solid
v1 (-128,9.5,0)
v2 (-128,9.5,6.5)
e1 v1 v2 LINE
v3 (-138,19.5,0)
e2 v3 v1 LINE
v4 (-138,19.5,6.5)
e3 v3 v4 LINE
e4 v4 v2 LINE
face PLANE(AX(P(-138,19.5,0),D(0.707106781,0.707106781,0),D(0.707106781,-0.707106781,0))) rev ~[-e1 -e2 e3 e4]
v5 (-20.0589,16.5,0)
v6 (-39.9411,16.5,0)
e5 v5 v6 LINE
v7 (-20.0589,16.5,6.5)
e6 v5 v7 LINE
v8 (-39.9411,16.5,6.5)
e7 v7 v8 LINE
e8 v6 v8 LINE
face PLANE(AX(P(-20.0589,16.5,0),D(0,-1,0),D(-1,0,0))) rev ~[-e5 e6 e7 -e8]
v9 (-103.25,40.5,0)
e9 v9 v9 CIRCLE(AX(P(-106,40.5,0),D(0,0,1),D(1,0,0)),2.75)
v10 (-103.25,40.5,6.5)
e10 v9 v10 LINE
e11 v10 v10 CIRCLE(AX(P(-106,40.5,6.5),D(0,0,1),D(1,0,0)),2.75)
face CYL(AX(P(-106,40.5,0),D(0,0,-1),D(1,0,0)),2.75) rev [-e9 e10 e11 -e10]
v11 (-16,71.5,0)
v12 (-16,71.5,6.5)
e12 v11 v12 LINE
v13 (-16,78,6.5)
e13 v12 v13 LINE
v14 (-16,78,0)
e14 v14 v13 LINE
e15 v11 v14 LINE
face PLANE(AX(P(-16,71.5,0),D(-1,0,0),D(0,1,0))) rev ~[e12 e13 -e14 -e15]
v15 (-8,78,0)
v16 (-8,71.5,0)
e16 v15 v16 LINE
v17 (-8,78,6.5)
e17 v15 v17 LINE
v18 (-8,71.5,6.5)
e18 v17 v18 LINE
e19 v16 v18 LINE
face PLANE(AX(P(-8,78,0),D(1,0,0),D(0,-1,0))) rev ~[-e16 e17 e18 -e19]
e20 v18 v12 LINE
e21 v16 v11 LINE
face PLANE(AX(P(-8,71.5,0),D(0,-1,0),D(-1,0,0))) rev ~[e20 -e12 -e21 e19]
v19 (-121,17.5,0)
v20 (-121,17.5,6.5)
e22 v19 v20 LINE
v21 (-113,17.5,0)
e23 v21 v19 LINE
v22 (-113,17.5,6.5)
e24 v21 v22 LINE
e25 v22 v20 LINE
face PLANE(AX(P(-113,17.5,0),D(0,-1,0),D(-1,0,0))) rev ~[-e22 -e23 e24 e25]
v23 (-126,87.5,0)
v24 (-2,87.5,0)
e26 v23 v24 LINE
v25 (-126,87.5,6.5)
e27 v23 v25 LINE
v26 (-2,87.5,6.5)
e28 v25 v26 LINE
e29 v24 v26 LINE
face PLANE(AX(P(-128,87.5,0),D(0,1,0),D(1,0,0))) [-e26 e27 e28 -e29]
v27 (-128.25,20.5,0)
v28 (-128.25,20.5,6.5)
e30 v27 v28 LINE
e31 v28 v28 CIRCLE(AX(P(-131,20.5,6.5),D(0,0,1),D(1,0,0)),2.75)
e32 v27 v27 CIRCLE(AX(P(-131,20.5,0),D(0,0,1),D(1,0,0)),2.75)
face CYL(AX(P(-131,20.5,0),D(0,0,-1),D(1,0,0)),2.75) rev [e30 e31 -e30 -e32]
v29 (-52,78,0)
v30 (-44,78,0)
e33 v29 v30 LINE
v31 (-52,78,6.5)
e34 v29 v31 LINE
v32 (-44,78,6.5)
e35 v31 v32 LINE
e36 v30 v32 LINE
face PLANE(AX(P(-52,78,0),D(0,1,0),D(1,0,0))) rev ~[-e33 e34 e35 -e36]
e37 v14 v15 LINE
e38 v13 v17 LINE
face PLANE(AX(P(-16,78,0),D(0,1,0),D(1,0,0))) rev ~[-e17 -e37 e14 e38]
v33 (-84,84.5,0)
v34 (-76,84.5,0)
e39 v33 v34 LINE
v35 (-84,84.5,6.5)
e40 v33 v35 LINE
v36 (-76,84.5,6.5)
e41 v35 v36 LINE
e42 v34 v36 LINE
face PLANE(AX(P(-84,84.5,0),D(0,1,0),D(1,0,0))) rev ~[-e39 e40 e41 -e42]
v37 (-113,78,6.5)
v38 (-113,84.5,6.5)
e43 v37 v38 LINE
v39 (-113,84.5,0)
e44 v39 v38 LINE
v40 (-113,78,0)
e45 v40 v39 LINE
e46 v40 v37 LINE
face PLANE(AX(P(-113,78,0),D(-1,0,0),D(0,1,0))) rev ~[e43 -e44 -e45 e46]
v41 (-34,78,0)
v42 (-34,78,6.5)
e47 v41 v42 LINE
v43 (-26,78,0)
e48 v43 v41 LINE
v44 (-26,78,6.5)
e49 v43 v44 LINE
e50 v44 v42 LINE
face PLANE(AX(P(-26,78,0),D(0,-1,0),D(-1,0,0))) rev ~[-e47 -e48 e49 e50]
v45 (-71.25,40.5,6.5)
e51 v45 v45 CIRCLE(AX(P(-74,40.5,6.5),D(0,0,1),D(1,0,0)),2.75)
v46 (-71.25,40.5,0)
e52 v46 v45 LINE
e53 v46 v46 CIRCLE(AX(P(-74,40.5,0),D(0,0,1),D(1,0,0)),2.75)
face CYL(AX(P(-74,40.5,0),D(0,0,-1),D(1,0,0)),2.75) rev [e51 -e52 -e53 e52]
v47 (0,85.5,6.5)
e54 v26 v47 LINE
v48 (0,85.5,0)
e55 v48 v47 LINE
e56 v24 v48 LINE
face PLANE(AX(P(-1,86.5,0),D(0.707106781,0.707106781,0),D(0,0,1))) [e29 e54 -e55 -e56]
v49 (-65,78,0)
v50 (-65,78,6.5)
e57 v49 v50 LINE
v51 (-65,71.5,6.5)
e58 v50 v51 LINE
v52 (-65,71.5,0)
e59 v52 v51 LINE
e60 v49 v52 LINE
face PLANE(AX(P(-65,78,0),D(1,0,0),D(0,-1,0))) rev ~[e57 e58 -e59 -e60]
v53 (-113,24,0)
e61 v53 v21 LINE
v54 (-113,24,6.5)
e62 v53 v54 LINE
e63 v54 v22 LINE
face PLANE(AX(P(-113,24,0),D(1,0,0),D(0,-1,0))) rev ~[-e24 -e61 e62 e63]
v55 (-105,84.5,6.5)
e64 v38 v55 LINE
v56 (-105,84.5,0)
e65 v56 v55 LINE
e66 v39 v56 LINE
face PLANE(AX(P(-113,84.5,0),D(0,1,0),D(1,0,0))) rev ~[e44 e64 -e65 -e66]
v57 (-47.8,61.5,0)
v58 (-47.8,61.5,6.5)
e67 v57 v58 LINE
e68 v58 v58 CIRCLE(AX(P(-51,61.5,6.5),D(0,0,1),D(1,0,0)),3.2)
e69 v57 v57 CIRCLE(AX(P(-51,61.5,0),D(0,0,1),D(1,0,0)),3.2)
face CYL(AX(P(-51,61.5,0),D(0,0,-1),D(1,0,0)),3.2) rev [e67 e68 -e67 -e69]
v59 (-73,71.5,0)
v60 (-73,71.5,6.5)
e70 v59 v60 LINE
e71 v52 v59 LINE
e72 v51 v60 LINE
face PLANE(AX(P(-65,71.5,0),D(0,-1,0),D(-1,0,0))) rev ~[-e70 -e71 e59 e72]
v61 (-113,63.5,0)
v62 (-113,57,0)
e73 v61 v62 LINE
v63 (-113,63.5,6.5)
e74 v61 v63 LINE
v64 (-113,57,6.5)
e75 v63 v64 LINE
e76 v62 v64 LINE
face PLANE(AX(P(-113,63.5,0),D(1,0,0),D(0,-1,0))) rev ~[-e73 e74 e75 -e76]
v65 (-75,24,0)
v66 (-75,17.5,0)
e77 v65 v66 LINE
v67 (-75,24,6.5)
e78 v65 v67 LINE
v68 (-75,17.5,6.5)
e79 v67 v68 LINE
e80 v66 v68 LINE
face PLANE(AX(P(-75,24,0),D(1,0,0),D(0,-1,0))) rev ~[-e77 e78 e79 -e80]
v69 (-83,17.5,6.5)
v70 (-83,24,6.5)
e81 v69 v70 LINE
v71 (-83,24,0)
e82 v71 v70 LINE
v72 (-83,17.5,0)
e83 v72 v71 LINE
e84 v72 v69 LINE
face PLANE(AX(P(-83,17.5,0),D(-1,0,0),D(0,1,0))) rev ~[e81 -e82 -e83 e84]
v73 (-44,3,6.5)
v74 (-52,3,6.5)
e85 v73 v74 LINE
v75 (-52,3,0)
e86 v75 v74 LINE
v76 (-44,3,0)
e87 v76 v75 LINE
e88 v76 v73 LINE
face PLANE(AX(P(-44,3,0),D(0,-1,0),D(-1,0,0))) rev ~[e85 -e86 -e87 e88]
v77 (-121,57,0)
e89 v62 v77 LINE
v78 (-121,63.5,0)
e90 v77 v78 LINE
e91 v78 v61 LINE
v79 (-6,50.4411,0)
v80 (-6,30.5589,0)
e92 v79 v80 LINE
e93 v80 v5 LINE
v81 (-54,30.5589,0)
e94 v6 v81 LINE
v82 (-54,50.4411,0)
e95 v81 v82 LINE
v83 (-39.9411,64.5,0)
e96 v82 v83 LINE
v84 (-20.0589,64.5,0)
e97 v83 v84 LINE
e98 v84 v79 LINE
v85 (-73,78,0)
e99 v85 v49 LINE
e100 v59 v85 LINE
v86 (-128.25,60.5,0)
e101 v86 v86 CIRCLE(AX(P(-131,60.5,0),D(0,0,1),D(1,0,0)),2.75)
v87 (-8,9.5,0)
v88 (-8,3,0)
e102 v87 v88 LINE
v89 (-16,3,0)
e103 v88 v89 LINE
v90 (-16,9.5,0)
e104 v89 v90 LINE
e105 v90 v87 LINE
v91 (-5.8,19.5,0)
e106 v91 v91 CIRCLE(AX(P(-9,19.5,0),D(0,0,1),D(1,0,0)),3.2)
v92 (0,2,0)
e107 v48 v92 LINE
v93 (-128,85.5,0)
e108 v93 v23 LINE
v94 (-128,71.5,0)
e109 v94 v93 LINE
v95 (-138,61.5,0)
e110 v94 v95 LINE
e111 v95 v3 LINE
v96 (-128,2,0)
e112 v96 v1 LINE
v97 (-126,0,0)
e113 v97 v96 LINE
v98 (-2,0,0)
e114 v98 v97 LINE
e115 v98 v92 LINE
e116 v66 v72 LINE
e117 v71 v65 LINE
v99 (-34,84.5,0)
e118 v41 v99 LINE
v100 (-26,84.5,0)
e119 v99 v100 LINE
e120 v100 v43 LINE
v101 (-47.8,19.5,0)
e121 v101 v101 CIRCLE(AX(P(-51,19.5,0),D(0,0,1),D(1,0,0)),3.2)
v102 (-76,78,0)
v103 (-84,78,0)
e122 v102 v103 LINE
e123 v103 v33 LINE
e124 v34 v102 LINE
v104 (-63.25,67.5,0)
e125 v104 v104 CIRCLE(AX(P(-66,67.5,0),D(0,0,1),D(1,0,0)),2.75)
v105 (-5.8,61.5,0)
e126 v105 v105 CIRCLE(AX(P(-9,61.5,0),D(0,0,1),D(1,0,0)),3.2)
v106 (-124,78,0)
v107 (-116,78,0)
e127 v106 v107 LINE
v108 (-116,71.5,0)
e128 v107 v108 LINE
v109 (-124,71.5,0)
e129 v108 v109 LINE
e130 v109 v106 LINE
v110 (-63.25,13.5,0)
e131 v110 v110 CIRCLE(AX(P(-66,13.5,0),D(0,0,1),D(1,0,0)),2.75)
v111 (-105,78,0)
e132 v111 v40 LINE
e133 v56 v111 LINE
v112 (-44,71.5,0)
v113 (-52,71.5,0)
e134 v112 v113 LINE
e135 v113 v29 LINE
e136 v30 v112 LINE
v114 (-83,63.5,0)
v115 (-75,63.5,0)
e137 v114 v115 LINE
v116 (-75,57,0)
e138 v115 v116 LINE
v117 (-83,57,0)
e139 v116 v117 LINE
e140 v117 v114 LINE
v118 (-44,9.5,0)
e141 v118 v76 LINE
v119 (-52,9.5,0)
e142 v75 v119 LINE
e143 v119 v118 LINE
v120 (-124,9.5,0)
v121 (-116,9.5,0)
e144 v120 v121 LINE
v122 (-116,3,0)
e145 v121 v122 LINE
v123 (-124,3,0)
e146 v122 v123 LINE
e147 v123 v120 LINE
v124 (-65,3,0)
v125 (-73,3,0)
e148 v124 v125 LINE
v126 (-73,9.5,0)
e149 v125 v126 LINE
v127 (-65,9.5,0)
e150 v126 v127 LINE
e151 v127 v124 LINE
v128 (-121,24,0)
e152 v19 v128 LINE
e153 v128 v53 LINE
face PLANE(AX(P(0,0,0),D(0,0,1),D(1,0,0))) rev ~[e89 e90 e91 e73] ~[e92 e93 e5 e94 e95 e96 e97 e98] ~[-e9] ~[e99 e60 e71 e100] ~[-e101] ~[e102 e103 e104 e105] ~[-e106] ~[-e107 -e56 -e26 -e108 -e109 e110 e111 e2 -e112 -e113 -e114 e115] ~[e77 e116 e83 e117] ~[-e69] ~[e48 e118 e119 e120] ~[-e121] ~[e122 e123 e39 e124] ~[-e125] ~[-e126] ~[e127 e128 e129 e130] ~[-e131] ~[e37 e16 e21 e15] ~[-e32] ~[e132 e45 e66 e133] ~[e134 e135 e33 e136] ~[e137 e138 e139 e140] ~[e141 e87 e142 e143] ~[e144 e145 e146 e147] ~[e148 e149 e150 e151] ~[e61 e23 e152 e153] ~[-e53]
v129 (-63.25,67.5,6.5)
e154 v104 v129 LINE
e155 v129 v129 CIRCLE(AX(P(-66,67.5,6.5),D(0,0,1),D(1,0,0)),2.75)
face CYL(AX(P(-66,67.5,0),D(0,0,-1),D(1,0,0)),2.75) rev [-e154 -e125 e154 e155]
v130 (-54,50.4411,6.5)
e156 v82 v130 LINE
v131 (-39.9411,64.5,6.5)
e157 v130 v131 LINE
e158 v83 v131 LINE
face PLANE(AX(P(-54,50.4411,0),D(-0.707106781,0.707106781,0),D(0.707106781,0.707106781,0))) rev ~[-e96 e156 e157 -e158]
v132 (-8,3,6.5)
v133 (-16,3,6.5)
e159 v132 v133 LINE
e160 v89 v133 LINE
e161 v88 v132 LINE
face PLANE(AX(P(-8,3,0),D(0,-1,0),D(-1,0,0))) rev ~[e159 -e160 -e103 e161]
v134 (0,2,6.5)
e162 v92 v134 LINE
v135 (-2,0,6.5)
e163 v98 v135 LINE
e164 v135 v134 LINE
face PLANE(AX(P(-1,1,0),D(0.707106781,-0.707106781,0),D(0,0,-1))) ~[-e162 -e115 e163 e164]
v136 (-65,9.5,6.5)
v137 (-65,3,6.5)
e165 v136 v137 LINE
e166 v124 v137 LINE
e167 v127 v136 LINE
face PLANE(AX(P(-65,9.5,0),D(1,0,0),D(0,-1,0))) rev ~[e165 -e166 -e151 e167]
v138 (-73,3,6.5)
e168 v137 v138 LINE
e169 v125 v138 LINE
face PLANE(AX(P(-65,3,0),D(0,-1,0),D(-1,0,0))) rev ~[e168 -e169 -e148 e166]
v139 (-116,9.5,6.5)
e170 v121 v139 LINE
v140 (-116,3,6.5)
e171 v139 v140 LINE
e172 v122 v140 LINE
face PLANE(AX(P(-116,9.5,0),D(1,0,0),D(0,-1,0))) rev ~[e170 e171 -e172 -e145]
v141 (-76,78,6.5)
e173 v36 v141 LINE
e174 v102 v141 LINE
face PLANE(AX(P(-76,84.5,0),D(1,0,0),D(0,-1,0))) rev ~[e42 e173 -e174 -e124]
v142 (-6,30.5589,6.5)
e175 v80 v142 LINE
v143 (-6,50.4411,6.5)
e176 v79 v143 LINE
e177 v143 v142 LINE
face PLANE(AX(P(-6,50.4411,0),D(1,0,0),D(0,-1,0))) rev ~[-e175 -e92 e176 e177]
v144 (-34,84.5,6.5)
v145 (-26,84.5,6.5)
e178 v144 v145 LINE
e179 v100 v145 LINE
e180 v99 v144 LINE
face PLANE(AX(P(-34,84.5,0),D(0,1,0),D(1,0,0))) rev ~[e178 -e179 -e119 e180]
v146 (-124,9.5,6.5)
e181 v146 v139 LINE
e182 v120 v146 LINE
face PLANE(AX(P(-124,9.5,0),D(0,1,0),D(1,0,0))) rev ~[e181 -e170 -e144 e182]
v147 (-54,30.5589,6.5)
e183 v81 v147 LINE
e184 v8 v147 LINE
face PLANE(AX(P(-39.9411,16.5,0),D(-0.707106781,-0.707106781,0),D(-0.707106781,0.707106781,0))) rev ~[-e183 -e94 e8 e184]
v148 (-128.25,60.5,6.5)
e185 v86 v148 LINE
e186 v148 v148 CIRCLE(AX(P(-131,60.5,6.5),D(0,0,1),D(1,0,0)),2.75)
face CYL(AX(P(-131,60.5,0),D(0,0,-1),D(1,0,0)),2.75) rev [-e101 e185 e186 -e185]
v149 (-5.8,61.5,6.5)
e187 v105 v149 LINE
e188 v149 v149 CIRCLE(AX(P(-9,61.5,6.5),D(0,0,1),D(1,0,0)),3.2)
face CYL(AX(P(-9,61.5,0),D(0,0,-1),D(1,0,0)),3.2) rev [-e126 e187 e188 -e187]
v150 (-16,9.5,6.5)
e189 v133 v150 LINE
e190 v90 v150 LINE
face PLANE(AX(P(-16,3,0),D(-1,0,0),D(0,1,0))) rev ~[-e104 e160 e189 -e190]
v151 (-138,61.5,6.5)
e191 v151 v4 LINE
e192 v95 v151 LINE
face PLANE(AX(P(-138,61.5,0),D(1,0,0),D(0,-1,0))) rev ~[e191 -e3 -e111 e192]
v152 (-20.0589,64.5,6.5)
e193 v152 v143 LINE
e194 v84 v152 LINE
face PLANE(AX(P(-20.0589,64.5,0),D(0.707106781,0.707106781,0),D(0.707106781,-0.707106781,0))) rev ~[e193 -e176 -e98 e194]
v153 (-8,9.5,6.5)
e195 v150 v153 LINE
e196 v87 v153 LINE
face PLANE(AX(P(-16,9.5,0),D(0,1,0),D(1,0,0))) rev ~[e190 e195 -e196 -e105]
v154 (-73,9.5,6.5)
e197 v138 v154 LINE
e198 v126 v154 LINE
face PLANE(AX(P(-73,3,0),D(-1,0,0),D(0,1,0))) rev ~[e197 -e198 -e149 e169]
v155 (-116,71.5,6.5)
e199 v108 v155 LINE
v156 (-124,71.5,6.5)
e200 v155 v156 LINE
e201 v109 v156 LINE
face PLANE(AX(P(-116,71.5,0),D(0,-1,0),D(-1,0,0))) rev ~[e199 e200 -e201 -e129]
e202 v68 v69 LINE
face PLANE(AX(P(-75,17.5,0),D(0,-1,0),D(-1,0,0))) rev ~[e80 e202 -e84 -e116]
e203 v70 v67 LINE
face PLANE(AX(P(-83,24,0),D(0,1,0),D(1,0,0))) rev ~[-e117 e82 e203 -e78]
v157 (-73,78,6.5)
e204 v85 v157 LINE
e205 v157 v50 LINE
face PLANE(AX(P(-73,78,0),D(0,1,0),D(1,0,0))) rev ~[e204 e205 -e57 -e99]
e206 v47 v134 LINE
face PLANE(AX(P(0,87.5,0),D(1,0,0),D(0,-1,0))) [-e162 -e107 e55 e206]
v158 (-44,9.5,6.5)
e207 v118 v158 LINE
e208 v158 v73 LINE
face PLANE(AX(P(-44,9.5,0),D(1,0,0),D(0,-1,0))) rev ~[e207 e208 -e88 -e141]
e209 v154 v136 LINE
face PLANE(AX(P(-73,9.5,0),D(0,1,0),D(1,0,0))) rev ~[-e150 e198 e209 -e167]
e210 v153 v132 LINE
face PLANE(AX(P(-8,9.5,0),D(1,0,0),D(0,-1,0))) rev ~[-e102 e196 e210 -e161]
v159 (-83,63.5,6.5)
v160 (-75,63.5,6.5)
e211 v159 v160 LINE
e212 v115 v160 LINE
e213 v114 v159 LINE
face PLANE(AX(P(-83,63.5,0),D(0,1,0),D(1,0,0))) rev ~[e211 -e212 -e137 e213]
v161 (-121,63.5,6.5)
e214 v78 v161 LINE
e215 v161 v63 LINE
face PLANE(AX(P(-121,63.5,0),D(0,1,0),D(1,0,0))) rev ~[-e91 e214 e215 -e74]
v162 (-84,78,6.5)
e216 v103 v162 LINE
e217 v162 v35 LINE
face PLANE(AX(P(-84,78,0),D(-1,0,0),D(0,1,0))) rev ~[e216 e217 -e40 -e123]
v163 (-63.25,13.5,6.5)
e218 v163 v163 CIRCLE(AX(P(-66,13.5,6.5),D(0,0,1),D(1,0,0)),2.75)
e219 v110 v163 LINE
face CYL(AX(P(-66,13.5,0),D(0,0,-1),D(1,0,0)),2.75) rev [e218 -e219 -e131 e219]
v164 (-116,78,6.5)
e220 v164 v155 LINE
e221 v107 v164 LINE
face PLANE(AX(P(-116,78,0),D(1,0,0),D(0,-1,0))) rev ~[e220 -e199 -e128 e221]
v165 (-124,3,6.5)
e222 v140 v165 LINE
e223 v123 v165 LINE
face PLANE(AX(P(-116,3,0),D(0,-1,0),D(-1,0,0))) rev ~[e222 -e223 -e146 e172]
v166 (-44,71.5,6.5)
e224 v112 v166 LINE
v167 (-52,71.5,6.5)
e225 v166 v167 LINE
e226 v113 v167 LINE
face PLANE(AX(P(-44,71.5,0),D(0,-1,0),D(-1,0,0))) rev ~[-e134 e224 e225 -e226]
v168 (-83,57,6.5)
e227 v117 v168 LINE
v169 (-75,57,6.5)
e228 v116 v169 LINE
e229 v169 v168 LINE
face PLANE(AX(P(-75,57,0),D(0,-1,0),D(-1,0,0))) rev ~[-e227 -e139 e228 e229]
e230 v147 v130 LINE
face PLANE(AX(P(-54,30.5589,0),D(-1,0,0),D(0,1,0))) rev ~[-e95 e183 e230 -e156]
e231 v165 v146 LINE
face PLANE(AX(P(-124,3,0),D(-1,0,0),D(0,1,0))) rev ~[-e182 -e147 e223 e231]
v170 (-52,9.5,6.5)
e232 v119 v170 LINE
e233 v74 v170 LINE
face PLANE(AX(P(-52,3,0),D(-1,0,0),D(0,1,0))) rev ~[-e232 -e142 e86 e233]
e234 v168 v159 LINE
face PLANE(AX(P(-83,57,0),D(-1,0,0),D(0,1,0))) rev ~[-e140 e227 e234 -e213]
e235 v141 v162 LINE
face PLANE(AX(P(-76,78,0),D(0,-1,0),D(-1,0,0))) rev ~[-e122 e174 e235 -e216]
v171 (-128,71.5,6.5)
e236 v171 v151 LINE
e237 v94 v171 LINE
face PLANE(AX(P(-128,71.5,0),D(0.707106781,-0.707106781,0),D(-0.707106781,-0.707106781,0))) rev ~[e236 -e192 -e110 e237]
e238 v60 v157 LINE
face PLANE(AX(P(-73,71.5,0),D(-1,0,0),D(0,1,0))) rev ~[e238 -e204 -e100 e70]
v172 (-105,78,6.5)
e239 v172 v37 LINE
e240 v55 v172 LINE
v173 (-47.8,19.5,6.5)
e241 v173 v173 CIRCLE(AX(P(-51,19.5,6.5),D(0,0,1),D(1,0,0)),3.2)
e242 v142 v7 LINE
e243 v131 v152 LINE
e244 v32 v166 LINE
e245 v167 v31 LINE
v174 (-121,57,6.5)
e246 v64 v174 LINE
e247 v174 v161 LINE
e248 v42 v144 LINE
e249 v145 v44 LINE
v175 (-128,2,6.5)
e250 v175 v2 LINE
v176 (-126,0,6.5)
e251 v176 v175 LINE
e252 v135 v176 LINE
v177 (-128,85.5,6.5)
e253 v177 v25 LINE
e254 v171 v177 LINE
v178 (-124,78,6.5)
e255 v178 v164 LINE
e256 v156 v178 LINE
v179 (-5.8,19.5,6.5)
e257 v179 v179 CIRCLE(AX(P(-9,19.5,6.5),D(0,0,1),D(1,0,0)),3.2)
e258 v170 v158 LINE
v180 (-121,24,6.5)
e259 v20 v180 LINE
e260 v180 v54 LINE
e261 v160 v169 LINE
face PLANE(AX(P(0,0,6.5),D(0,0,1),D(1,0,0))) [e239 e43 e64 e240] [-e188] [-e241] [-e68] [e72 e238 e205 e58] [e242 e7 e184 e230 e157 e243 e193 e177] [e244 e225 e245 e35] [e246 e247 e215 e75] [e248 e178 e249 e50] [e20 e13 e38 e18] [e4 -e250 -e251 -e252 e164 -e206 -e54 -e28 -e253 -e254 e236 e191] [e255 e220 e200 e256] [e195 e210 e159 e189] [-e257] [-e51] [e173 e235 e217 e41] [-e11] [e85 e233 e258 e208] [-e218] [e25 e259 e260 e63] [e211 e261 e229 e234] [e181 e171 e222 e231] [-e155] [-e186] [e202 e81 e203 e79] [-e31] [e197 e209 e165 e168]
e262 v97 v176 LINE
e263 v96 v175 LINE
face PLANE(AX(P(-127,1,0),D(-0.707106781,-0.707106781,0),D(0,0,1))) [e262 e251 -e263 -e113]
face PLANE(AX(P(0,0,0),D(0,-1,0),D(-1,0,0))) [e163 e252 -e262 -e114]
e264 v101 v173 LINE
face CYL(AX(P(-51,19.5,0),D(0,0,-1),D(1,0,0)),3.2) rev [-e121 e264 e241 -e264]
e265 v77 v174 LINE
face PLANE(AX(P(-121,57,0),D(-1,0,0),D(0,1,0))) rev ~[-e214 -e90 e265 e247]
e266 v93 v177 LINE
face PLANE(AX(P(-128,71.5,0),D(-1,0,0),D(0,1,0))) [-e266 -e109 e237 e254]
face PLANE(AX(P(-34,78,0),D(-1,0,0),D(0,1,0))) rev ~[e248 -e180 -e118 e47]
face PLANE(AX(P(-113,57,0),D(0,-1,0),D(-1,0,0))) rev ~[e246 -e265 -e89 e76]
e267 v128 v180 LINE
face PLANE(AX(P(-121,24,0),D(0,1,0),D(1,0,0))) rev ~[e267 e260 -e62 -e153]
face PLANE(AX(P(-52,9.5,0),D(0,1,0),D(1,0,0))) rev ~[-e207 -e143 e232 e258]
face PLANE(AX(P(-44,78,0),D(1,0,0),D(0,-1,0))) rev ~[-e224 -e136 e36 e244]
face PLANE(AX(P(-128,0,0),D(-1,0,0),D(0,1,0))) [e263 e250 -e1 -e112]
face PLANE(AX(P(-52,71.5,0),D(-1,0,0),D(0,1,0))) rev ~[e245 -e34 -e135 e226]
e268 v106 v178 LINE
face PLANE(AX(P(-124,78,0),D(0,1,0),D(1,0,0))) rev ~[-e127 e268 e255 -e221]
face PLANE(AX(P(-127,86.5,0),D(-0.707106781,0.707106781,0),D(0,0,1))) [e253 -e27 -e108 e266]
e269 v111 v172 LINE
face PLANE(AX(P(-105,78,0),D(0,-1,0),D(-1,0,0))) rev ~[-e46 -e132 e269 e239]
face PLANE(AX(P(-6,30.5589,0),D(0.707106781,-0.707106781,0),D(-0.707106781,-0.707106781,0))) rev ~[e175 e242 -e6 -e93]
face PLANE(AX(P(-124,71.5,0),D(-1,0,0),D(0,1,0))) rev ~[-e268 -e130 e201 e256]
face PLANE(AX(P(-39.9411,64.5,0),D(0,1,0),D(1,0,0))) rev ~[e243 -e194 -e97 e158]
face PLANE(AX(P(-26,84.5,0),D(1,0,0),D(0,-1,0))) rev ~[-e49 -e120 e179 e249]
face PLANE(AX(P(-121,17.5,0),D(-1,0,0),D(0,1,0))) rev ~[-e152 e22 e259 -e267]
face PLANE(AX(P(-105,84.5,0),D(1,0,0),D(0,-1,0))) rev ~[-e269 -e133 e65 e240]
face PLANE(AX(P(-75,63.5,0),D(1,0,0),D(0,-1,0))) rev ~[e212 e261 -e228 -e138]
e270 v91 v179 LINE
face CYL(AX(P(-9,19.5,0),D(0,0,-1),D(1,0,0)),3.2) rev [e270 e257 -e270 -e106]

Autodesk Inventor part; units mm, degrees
ref_plane "YZ Plane" through (0, 0, 0) normal (1, 0, 0) x (0, 1, 0)
ref_plane "XZ Plane" through (0, 0, 0) normal (0, 1, 0) x (-1, 0, 0)
ref_plane "XY Plane" through (0, 0, 0) normal (0, 0, 1) x (1, 0, 0)
sketch "Sketch1" plane through (0, 0, 0) normal (0, 0, 1) x (1, 0, 0)
  line L0 (0, 0) -> (-128, 0)
  line L1 (-128, 87.5) -> (0, 87.5)
  line L2 (0, 87.5) -> (0, 0)
  line L3 (-128, 71.5) -> (-138, 61.5)
  line L4 (-138, 61.5) -> (-138, 19.5)
  line L5 (-138, 19.5) -> (-128, 9.5)
  line L6 (-128, 0) -> (-128, 9.5)
  line L7 (-128, 71.5) -> (-128, 87.5)
  line L8 (-52, 9.5) -> (-44, 9.5)
  line L9 (-44, 9.5) -> (-44, 3)
  line L10 (-44, 3) -> (-52, 3)
  line L11 (-52, 3) -> (-52, 9.5)
  line L12 (-52, 78) -> (-44, 78)
  line L13 (-44, 78) -> (-44, 71.5)
  line L14 (-44, 71.5) -> (-52, 71.5)
  line L15 (-52, 71.5) -> (-52, 78)
  line L16 (-16, 78) -> (-8, 78)
  line L17 (-8, 78) -> (-8, 71.5)
  line L18 (-8, 71.5) -> (-16, 71.5)
  line L19 (-16, 71.5) -> (-16, 78)
  line L20 (-16, 9.5) -> (-8, 9.5)
  line L21 (-8, 9.5) -> (-8, 3)
  line L22 (-8, 3) -> (-16, 3)
  line L23 (-16, 3) -> (-16, 9.5)
  line L24 (-34, 84.5) -> (-26, 84.5)
  line L25 (-26, 84.5) -> (-26, 78)
  line L26 (-26, 78) -> (-34, 78)
  line L27 (-34, 78) -> (-34, 84.5)
  line L28 (-6, 50.4411) -> (-6, 30.5589)
  line L29 (-6, 30.5589) -> (-20.0589, 16.5)
  line L30 (-20.0589, 16.5) -> (-39.9411, 16.5)
  line L31 (-39.9411, 16.5) -> (-54, 30.5589)
  line L32 (-54, 30.5589) -> (-54, 50.4411)
  line L33 (-54, 50.4411) -> (-39.9411, 64.5)
  line L34 (-39.9411, 64.5) -> (-20.0589, 64.5)
  line L35 (-20.0589, 64.5) -> (-6, 50.4411)
  line L36 (-51, 61.5) -> (-9, 61.5) construction
  line L37 (-9, 61.5) -> (-9, 19.5) construction
  line L38 (-9, 19.5) -> (-51, 19.5) construction
  line L39 (-51, 19.5) -> (-51, 61.5) construction
  circle A0 centre (-51, 61.5) radius 3.2
  circle A1 centre (-51, 19.5) radius 3.2
  circle A2 centre (-9, 19.5) radius 3.2
  circle A3 centre (-9, 61.5) radius 3.2
  circle A4 centre (-131, 60.5) radius 2.75
  circle A5 centre (-131, 20.5) radius 2.75
  line L40 (-124, 78) -> (-116, 78)
  line L41 (-116, 78) -> (-116, 71.5)
  line L42 (-116, 71.5) -> (-124, 71.5)
  line L43 (-124, 71.5) -> (-124, 78)
  line L44 (-124, 9.5) -> (-116, 9.5)
  line L45 (-116, 9.5) -> (-116, 3)
  line L46 (-116, 3) -> (-124, 3)
  line L47 (-124, 3) -> (-124, 9.5)
  line L48 (-121, 63.5) -> (-113, 63.5)
  line L49 (-113, 63.5) -> (-113, 57)
  line L50 (-113, 57) -> (-121, 57)
  line L51 (-121, 57) -> (-121, 63.5)
  line L52 (-121, 24) -> (-113, 24)
  line L53 (-113, 24) -> (-113, 17.5)
  line L54 (-113, 17.5) -> (-121, 17.5)
  line L55 (-121, 17.5) -> (-121, 24)
  circle A6 centre (-66, 67.5) radius 2.75
  circle A7 centre (-66, 13.5) radius 2.75
  line L56 (-60, 87.5) -> (-60, 0) construction
  line L57 (-132, 67.5) -> (-60, 67.5) construction
  line L58 (-132, 13.5) -> (-60, 13.5) construction
  line L59 (-83, 63.5) -> (-75, 63.5)
  line L60 (-75, 63.5) -> (-75, 57)
  line L61 (-75, 57) -> (-83, 57)
  line L62 (-83, 57) -> (-83, 63.5)
  line L63 (-83, 24) -> (-75, 24)
  line L64 (-75, 24) -> (-75, 17.5)
  line L65 (-75, 17.5) -> (-83, 17.5)
  line L66 (-83, 17.5) -> (-83, 24)
  line L67 (-73, 78) -> (-65, 78)
  line L68 (-65, 78) -> (-65, 71.5)
  line L69 (-65, 71.5) -> (-73, 71.5)
  line L70 (-73, 71.5) -> (-73, 78)
  line L71 (-73, 9.5) -> (-65, 9.5)
  line L72 (-65, 9.5) -> (-65, 3)
  line L73 (-65, 3) -> (-73, 3)
  line L74 (-73, 3) -> (-73, 9.5)
  line L75 (-113, 84.5) -> (-105, 84.5)
  line L76 (-105, 84.5) -> (-105, 78)
  line L77 (-105, 78) -> (-113, 78)
  line L78 (-113, 78) -> (-113, 84.5)
  line L79 (-84, 84.5) -> (-76, 84.5)
  line L80 (-76, 84.5) -> (-76, 78)
  line L81 (-76, 78) -> (-84, 78)
  line L82 (-84, 78) -> (-84, 84.5)
  circle A8 centre (-106, 40.5) radius 2.75
  circle A9 centre (-74, 40.5) radius 2.75
  point P0 (-30, 40.5)
  point P1 (-138, 40.5)
  point P2 (-54, 40.5)
  point P3 (-51, 40.5)
  point P4 (-30, 61.5)
  point P5 (-30, 64.5)
  dimension "d1" = 45
  dimension "d2" = 10
  dimension "d5" = 3
  dimension "d6" = 8
  dimension "d7" = 8
  dimension "d8" = 6.5
  dimension "d10" = 3
  dimension "d11" = 48
  dimension "d12" = 8
  dimension "d13" = 6
  dimension "d14" = 42
  dimension "d15" = 42
  dimension "d16" = 6.4
  dimension "d17" = 6.4
  dimension "d18" = 6.4
  dimension "d19" = 6.4
  dimension "d20" = 5.5
  dimension "d21" = 5.5
  dimension "d22" = 7
  dimension "d23" = 11
  dimension "d24" = 11
  dimension "d25" = 6.5
  dimension "d26" = 8
  dimension "d27" = 6.5
  dimension "d28" = 6.5
  dimension "d29" = 8
  dimension "d30" = 6.5
  dimension "d31" = 8
  dimension "d32" = 8
  dimension "d33" = 5.5
  dimension "d34" = 5.5
  dimension "d35" = 4
  dimension "d36" = 4
  dimension "d37" = 8
  dimension "d38" = 8
  dimension "d39" = 8
  dimension "d40" = 4
  dimension "d41" = 8
  dimension "d42" = 128
  dimension "d43" = 68
  dimension "d44" = 8
  dimension "d45" = 43
  dimension "d47" = 10
  dimension "d48" = 15
  dimension "d49" = 62
  dimension "d50" = 10
  dimension "d52" = 8
  dimension "d53" = 3
  dimension "d54" = 8
  dimension "d55" = 3
  dimension "d56" = 5.5
  dimension "d57" = 5.5
  dimension "d58" = 14
  dimension "d59" = 32
  dimension "d66" = 54
extrude "Extrusion1" add sketch "Sketch1" along normal blind 6.5
chamfer "Chamfer1" distance 2 angle 45 4 edges at (-128, 0, 3.25) (-128, 87.5, 3.25) (0, 87.5, 3.25) (0, 0, 3.25)
properties part number "x_iddler_bottom" material "Plywood, Finish"
